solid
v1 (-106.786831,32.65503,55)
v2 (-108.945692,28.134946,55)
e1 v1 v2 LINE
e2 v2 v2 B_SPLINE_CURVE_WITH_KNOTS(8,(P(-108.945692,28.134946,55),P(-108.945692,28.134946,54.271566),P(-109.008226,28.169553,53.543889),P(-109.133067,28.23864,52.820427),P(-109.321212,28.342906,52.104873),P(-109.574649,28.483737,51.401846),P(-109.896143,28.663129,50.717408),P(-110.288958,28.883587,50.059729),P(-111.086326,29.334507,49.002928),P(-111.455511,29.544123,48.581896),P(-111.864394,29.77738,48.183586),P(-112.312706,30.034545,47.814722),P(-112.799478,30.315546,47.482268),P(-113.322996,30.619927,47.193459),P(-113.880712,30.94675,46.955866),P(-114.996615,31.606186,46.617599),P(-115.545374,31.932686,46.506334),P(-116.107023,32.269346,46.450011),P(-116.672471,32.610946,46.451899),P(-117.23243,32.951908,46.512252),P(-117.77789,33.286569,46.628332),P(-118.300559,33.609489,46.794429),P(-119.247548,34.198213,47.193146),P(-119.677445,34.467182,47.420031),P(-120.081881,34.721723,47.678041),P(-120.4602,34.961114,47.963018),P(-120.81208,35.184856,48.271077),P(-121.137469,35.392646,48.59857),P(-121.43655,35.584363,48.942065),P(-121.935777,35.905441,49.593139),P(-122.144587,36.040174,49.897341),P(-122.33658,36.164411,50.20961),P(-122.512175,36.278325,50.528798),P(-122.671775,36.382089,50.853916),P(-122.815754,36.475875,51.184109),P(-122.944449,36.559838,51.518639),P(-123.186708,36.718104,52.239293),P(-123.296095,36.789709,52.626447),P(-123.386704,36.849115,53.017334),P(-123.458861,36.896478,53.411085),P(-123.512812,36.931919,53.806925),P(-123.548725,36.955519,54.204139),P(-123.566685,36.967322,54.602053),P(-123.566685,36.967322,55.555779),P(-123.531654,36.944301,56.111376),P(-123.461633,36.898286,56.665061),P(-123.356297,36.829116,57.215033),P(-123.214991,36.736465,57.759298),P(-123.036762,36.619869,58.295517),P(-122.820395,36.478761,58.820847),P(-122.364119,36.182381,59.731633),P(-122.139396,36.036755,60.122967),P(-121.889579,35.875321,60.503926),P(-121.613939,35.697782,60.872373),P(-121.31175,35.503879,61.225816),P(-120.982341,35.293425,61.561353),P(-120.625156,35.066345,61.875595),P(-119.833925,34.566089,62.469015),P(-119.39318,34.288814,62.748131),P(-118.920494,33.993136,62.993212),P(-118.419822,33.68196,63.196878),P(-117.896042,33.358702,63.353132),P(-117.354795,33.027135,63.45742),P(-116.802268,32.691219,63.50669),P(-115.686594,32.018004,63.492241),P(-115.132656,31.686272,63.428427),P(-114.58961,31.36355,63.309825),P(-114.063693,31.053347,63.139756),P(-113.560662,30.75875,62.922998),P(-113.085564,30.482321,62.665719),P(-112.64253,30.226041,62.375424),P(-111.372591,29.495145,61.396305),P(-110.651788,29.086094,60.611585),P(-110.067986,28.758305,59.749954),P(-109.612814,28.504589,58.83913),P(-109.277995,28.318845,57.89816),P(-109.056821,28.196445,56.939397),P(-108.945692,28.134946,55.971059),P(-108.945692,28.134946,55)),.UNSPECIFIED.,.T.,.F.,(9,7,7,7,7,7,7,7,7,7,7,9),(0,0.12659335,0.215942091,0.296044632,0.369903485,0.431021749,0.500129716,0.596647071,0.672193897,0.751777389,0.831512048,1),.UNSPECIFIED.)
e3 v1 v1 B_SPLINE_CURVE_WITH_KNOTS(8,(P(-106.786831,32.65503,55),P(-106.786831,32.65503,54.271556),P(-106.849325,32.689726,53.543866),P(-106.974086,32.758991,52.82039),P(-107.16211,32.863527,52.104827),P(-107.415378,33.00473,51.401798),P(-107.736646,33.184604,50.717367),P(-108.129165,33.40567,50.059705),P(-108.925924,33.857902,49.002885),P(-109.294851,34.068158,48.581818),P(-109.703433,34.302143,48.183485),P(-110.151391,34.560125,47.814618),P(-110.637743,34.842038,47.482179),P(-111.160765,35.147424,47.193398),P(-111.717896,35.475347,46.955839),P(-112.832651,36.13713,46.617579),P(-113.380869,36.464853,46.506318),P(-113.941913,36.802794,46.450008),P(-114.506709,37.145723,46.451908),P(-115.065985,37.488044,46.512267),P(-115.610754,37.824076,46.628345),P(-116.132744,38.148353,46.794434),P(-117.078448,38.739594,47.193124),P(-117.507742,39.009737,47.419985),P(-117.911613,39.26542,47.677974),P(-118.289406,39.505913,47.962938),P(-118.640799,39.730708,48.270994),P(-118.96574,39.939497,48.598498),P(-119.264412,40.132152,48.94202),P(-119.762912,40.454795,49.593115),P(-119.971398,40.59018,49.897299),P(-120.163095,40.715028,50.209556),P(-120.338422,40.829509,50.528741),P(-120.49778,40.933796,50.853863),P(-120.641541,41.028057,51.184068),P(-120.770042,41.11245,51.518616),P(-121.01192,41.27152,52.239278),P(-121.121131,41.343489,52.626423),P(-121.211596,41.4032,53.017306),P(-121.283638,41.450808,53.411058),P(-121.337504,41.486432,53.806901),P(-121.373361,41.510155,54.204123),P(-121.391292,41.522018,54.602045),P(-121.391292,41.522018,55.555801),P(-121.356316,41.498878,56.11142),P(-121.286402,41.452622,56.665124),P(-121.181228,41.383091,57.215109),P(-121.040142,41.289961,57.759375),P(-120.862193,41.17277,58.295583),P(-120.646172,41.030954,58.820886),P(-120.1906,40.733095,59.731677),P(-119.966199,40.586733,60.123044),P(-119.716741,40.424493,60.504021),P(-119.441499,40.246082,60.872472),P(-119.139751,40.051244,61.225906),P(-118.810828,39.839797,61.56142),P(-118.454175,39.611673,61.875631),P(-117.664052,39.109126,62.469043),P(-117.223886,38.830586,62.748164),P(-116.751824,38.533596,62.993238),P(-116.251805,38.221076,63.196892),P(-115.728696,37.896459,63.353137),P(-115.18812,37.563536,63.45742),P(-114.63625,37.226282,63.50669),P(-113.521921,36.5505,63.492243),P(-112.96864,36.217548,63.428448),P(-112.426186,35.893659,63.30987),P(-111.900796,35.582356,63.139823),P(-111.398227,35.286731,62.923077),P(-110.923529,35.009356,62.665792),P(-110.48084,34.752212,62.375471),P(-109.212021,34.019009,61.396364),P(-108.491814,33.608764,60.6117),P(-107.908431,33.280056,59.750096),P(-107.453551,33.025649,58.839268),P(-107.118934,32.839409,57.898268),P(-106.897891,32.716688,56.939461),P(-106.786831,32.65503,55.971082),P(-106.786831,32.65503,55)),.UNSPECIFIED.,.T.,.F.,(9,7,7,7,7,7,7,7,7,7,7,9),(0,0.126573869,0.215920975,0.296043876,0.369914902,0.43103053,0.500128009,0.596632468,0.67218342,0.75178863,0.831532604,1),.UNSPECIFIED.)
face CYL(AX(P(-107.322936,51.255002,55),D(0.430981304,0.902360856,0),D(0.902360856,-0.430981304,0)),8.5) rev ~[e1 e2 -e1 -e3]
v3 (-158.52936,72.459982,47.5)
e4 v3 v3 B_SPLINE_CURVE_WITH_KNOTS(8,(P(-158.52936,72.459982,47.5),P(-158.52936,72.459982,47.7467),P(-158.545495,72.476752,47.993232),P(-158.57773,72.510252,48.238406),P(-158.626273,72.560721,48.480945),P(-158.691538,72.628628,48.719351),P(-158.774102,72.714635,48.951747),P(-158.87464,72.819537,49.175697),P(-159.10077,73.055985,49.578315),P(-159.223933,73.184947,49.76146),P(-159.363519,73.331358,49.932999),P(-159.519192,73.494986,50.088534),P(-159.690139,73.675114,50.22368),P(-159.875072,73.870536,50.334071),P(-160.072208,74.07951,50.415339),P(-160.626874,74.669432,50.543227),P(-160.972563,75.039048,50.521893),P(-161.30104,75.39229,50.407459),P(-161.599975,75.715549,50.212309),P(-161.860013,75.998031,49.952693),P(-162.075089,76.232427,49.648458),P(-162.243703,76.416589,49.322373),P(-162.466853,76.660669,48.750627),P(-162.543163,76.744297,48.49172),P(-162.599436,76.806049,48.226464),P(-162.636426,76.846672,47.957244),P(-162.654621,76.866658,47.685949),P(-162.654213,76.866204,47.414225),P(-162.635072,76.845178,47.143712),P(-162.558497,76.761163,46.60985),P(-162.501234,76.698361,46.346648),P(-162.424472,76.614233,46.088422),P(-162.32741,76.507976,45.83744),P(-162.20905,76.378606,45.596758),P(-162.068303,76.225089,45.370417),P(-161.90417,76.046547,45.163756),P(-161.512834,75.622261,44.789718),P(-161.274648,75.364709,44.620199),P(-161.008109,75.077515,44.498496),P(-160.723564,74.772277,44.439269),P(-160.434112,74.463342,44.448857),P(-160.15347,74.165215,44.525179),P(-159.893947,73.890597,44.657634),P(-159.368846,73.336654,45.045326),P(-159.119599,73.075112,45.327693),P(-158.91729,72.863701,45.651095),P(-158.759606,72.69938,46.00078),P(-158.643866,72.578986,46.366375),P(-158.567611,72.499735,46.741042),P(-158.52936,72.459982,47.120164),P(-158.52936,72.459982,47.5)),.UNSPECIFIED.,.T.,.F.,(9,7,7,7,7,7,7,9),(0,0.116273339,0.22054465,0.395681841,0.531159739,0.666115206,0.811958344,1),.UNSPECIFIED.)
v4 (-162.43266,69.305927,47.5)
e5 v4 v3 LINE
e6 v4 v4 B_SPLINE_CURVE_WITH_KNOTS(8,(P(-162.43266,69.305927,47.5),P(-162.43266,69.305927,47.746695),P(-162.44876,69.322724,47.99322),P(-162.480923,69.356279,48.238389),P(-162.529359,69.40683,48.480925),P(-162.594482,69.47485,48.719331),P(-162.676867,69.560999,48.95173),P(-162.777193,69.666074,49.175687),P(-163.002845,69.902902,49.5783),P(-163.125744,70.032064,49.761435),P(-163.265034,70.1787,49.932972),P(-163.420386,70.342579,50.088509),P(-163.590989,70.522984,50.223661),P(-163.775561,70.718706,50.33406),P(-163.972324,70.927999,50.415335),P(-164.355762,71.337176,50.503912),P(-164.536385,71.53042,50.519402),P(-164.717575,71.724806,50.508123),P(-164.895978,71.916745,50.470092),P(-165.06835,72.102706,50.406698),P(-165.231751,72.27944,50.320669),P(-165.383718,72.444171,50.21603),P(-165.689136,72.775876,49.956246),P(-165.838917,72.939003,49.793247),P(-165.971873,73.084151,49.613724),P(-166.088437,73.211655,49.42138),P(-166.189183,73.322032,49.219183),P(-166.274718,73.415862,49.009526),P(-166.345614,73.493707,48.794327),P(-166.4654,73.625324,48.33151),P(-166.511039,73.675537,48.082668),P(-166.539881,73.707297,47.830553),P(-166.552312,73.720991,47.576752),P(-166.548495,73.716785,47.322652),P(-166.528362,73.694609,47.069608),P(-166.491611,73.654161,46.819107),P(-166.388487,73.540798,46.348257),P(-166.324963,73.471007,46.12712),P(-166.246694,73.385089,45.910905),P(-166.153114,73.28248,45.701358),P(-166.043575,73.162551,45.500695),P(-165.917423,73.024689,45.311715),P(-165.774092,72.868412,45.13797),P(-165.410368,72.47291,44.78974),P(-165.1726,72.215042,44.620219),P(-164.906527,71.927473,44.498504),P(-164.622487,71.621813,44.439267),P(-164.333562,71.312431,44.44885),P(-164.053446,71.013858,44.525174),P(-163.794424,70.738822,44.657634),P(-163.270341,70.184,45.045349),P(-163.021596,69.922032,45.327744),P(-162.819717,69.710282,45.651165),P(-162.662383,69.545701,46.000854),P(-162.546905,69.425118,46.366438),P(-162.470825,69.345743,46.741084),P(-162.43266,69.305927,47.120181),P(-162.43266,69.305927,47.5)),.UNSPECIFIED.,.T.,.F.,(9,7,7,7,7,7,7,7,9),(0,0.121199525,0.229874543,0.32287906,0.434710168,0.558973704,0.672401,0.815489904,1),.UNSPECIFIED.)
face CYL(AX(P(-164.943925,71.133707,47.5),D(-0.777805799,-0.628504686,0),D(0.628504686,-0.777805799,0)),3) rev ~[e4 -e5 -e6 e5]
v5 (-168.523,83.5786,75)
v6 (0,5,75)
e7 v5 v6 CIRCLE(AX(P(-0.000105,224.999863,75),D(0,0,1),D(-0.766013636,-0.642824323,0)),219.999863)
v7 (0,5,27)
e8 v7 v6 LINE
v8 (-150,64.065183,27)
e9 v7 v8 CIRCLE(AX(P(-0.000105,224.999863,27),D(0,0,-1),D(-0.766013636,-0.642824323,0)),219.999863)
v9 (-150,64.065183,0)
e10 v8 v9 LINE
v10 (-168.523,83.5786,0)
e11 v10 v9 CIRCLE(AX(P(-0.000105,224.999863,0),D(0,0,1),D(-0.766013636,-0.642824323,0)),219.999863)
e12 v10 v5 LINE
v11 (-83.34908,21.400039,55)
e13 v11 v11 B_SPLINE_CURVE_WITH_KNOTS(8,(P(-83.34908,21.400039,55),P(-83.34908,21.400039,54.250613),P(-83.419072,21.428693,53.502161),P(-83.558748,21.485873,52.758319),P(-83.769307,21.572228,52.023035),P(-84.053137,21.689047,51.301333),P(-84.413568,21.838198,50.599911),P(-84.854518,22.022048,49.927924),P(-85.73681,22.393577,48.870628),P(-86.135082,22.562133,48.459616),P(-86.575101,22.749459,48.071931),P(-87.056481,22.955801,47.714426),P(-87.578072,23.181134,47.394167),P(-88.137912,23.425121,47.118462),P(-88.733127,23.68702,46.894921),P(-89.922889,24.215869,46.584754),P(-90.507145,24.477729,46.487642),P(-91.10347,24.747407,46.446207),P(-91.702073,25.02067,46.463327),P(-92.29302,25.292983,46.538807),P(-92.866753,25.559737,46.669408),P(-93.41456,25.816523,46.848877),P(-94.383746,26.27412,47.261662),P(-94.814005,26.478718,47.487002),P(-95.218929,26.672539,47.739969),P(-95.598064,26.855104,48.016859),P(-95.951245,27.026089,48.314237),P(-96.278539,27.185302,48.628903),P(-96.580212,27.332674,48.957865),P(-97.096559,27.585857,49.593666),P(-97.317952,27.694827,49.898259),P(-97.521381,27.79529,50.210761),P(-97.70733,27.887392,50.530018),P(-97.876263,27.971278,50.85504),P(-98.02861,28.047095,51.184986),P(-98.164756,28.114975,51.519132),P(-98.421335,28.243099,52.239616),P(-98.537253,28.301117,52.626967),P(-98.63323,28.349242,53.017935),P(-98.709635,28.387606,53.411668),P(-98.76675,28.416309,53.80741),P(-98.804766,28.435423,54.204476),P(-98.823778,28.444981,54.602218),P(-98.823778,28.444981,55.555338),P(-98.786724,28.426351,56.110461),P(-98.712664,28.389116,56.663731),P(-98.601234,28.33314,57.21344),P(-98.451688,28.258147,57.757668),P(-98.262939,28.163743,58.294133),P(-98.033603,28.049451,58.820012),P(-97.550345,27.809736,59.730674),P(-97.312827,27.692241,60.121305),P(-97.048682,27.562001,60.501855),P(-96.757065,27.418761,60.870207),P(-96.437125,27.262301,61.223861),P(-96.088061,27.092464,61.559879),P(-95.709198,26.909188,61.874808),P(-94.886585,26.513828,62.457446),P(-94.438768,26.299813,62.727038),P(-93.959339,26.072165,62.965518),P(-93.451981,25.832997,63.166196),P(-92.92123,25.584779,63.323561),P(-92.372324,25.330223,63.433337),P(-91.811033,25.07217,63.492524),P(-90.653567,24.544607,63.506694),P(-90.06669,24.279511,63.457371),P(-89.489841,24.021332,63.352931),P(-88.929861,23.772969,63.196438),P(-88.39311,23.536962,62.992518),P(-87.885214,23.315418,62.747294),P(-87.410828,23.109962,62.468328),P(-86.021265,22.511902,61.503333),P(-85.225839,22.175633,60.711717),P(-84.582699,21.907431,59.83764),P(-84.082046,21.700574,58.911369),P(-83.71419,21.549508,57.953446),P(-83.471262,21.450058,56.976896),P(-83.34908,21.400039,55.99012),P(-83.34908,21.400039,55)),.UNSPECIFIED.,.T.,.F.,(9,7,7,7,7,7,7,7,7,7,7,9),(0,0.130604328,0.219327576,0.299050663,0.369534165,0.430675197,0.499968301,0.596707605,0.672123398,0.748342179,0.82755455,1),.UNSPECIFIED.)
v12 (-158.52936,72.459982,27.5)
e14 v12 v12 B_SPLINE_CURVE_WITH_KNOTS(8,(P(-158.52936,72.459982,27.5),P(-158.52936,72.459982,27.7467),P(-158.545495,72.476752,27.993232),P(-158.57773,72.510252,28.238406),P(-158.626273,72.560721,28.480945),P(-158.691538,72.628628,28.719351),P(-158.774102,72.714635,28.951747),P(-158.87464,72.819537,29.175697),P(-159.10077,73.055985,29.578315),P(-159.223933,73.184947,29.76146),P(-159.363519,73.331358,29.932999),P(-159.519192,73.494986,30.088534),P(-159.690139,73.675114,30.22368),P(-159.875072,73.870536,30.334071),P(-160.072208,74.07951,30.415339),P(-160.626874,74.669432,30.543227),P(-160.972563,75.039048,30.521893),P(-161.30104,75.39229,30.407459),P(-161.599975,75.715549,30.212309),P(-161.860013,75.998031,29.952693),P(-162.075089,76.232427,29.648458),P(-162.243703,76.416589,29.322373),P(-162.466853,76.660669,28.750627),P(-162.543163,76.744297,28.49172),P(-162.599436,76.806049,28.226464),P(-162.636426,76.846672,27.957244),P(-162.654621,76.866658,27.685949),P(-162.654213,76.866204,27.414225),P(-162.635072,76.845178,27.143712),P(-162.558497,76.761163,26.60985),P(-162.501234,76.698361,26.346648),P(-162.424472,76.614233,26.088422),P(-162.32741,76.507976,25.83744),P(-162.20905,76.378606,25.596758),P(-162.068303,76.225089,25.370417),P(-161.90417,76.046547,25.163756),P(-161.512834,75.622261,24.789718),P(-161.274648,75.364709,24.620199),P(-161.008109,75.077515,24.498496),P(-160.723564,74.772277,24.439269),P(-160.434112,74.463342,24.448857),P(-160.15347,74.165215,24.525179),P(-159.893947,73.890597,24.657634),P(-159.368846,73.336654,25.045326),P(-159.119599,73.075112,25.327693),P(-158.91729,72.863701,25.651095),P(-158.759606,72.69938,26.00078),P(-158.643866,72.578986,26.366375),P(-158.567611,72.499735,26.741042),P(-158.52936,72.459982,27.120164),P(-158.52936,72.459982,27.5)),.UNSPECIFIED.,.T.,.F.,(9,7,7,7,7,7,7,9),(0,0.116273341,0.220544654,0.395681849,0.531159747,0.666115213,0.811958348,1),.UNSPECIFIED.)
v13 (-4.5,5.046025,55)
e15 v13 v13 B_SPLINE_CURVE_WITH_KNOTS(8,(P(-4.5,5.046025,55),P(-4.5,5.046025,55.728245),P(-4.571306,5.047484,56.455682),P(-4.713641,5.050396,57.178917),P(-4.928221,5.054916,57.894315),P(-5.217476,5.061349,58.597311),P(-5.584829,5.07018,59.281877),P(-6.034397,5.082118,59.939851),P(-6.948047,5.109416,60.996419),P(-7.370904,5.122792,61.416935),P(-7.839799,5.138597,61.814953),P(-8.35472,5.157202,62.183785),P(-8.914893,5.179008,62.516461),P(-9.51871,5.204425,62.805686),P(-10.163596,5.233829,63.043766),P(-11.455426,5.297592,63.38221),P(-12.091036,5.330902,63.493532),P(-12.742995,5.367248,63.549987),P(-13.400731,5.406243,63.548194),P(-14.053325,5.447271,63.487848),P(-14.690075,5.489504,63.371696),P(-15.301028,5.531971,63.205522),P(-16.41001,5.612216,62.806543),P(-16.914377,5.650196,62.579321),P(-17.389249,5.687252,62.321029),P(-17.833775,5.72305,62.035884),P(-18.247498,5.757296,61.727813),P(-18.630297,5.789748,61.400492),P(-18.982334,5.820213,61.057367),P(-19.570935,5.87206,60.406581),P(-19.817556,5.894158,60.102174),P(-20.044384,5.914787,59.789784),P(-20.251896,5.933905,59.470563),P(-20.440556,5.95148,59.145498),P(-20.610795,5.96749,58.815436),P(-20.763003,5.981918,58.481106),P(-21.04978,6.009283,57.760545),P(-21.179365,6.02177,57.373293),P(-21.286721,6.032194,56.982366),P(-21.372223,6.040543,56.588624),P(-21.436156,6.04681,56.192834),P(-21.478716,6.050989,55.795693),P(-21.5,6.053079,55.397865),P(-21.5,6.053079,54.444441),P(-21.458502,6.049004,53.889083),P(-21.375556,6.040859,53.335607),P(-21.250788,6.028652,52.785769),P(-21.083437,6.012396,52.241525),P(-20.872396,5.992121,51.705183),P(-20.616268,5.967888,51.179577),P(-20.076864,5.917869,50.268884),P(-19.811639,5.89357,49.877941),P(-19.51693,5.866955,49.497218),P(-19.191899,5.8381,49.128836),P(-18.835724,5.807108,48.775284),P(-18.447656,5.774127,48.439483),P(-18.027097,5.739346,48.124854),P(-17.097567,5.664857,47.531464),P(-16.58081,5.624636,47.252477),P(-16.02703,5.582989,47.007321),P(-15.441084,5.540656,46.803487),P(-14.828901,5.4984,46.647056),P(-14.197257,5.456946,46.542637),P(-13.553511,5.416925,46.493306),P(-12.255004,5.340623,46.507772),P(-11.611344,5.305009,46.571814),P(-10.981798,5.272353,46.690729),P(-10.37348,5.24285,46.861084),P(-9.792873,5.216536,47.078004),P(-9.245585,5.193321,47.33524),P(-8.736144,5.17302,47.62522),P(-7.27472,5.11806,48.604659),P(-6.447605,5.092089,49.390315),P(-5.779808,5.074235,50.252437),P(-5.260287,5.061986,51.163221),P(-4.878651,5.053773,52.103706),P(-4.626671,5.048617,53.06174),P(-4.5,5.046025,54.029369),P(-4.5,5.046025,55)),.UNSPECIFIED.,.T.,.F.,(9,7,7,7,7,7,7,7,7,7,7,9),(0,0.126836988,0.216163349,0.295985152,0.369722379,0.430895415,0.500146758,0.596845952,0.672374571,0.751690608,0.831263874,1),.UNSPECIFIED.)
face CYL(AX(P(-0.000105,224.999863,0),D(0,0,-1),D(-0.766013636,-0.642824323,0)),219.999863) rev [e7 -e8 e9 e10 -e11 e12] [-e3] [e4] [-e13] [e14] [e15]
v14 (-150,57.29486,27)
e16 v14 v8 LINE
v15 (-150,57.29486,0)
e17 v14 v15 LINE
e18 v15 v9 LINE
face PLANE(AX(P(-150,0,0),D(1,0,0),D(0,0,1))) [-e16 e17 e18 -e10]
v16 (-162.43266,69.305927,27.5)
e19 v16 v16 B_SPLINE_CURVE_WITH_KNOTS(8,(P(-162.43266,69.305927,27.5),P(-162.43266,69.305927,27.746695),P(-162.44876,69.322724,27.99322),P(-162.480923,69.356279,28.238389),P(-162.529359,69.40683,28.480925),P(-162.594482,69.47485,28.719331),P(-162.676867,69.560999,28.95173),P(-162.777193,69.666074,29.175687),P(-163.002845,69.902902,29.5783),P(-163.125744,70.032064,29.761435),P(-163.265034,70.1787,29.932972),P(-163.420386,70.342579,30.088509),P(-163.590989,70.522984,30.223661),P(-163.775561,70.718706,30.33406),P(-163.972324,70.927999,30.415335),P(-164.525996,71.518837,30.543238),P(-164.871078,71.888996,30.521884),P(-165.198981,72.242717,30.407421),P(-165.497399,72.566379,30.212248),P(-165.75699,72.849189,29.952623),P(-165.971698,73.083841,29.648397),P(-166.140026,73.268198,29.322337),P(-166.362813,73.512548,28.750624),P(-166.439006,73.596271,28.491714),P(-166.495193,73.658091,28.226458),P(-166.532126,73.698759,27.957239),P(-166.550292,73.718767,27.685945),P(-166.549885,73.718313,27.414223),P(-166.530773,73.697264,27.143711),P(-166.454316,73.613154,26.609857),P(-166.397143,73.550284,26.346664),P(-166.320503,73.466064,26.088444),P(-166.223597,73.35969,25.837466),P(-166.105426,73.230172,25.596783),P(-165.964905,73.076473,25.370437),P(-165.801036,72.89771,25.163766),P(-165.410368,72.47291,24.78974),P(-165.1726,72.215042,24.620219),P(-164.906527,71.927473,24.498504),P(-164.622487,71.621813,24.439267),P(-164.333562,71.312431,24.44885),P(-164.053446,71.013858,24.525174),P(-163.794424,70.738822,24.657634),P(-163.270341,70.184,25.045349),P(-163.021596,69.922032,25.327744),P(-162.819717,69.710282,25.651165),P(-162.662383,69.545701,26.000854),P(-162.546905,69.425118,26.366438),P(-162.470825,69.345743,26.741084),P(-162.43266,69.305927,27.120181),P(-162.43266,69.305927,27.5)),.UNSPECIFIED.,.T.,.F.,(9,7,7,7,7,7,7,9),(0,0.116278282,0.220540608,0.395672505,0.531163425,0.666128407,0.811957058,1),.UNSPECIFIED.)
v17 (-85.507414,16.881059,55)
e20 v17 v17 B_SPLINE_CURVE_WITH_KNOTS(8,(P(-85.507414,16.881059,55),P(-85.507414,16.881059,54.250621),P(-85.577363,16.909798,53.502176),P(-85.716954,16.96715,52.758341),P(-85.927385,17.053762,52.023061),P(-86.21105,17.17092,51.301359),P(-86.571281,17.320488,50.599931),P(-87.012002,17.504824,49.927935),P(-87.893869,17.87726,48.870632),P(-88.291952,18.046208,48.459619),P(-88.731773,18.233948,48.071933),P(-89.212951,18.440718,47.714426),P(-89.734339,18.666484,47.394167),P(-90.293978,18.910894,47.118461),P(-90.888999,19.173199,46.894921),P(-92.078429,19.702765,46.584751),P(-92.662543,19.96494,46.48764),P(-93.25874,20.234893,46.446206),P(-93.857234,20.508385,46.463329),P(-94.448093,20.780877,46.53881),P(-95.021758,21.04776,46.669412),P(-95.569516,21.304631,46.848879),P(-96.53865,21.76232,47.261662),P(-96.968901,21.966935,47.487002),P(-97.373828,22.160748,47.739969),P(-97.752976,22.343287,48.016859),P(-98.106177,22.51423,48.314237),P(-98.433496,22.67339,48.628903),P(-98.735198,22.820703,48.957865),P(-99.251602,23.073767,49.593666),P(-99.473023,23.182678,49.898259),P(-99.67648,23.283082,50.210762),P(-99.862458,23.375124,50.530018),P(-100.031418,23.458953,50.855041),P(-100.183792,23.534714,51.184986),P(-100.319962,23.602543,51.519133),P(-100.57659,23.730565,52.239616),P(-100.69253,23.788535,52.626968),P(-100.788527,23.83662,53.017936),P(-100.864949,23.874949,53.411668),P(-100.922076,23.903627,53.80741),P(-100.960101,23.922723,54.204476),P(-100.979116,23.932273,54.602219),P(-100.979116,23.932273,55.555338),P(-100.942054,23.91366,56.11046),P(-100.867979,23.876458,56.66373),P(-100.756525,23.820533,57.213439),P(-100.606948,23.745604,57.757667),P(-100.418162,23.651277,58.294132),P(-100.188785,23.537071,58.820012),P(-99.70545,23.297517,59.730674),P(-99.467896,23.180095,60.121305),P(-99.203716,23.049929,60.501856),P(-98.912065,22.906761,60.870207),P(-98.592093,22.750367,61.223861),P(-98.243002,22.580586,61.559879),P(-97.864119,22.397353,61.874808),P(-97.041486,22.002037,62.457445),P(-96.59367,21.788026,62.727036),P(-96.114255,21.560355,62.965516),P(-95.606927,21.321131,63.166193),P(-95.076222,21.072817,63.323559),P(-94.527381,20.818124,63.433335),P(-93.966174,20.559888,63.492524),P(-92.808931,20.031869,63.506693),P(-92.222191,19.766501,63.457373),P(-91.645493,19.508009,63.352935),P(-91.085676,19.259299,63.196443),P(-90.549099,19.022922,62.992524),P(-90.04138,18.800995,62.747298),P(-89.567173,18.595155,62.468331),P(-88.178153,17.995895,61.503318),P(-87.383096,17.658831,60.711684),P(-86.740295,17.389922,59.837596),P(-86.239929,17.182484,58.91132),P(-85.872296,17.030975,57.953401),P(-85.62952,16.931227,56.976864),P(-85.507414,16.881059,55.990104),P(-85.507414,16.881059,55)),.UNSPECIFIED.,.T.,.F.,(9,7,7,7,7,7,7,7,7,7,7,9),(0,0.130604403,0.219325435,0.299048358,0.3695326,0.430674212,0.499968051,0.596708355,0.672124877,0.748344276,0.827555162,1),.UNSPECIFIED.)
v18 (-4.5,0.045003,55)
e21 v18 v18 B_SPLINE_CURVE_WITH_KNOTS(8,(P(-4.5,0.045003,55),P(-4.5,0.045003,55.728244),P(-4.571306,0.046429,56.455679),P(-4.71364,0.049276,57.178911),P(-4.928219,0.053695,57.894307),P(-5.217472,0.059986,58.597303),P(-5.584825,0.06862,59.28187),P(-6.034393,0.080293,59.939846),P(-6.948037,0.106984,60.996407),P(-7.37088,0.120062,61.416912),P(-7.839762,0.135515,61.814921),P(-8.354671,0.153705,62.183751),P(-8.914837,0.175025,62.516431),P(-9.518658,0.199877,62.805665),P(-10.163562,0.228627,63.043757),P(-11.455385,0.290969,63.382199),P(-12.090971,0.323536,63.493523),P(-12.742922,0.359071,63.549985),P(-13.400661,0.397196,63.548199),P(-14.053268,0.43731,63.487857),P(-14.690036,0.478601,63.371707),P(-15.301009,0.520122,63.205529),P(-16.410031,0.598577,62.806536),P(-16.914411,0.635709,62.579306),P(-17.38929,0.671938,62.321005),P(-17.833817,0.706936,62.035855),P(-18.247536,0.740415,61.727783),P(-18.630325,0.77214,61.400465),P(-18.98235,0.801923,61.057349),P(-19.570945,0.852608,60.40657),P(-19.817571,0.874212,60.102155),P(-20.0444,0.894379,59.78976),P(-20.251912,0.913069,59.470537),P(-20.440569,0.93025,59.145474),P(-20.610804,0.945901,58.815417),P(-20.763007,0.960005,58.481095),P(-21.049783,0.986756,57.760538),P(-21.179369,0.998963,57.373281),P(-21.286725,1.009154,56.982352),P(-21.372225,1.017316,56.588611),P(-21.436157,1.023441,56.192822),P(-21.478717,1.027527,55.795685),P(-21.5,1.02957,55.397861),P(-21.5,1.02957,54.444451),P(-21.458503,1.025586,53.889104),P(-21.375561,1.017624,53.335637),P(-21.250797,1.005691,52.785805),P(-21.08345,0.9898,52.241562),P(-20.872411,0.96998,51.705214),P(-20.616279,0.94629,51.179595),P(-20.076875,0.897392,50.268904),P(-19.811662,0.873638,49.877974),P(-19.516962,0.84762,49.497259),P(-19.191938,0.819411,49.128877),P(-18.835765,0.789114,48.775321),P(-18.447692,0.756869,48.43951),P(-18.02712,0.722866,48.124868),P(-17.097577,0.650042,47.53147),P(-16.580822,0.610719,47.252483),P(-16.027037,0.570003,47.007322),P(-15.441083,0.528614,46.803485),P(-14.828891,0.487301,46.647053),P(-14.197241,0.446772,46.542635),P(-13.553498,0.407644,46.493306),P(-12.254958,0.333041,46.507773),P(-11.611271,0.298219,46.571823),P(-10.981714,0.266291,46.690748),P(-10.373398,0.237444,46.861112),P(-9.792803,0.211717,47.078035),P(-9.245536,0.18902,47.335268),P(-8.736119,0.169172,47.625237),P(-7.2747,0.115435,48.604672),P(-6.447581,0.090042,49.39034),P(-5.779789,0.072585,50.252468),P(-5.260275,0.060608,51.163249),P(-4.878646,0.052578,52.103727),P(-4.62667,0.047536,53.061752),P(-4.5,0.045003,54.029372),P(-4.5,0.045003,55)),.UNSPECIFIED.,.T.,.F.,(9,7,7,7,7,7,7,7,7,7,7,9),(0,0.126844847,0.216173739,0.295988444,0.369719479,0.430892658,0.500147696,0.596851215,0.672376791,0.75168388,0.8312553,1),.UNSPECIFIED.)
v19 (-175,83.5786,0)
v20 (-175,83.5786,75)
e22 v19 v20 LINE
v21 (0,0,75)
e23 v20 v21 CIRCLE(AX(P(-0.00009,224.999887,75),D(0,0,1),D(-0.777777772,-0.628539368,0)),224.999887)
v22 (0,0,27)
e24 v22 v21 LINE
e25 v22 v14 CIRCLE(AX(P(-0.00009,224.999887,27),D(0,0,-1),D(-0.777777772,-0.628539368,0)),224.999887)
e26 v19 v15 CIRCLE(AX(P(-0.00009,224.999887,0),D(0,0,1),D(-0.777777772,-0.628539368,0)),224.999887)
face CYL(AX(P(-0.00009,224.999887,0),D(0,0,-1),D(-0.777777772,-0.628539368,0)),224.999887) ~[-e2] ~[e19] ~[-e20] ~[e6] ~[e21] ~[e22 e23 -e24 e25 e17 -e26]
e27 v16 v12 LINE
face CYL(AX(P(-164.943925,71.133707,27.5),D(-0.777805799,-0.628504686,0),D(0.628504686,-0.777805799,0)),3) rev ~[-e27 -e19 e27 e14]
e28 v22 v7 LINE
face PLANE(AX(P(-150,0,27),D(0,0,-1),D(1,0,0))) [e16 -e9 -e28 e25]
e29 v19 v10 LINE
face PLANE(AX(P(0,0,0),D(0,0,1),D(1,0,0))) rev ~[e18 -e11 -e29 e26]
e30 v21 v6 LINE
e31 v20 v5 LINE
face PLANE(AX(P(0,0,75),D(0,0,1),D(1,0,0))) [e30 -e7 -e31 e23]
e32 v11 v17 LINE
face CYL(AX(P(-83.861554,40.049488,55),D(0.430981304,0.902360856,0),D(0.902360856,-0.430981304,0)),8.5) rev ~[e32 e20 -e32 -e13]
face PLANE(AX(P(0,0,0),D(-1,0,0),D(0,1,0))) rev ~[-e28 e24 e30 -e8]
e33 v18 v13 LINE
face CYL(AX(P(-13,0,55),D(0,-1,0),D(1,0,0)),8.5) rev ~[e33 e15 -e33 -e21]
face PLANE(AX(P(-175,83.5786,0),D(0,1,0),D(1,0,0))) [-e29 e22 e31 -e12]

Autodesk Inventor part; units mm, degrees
sketch "Sketch1" plane through (0, 0, 0) normal (0, 0, 1) x (1, 0, 0)
  circle A0 centre (0, 225) radius 225 construction
  line L0 (0, 0) -> (0, 5)
  arc A1 (-168.523, 83.5786) -> (0, 5) centre (0, 225) ccw
  arc A2 (-175, 83.5786) -> (0, 0) centre (0, 225) ccw
  line L1 (-175, 83.5786) -> (-168.523, 83.5786)
  line L2 (-175, 83.5786) -> (-168.523, 83.5786) construction
  dimension "d0" = 450
  dimension "d3" = 175
  dimension "d6" = 0
  dimension "d18" = 5
extrude "Extrusion1" add sketch "Sketch1" along normal blind 75
sketch "Sketch2" plane through (0, 0, 0) normal (0, 1, 0) x (-1, 0, 0)
  line L0 (0, 0) -> (150, 0)
  line L1 (150, 0) -> (150, 27)
  line L2 (150, 27) -> (0, 27)
  line L3 (0, 27) -> (0, 0)
  line L4 (175, 0) -> (175, 75) projected
  dimension "d7" = 27
  dimension "d8" = 25
extrude "Extrusion2" cut sketch "Sketch2" along normal through all
ref_plane "Work Plane1" through (-175, 83.5786, 0) normal (-0.7778, -0.6285, 0) x (0.6285, -0.7778, 0)
sketch "Sketch3" plane through (-175, 83.5786, 0) normal (-0.7778, -0.6285, 0) x (0.6285, -0.7778, 0)
  circle A0 centre (16, 47.5) radius 3
  circle A1 centre (16, 27.5) radius 3
  line L0 (0, 0) -> (0, 75) projected
  line L1 (36.1564, 0) -> (0, 0) projected
  point P0 (175, 0)
  dimension "d11" = 6
  dimension "d12" = 6
  dimension "d13" = 16
  dimension "d14" = 27.5
  dimension "d15" = 20
extrude "Extrusion3" cut sketch "Sketch3" along normal through all both and the other way through all
ref_plane "Work Plane2" through (-175, 83.5786, 75) normal (0.431, 0.9024, 0) x (0.9024, -0.431, 0)
sketch "Sketch4" plane through (-175, 83.5786, 75) normal (0.431, 0.9024, 0) x (0.9024, -0.431, 0)
  circle A0 centre (75, 20) radius 8.5
  circle A1 centre (101, 20) radius 8.5
  point P0 (193.934, 75)
  point P1 (0, 0)
  point P2 (193.934, 0)
  dimension "d19" = 17
  dimension "d20" = 17
  dimension "d21" = 26
  dimension "d22" = 75
  dimension "d23" = 20
extrude "Extrusion4" cut sketch "Sketch4" along normal through all both and the other way through all
ref_plane "Work Plane3" through (0, 0, 0) normal (0, -1, 0) x (1, 0, 0)
sketch "Sketch5" plane through (0, 0, 0) normal (0, -1, 0) x (1, 0, 0)
  circle A0 centre (-13, 55) radius 8.5
  line L0 (0, 75) -> (-175, 75) projected
  line L1 (0, 27) -> (0, 75) projected
  point P0 (0, 0)
  dimension "d26" = 17
  dimension "d27" = 20
  dimension "d28" = 13
extrude "Extrusion5" cut sketch "Sketch5" against normal through all
properties part number "CW006" material "ABS Plastic"
